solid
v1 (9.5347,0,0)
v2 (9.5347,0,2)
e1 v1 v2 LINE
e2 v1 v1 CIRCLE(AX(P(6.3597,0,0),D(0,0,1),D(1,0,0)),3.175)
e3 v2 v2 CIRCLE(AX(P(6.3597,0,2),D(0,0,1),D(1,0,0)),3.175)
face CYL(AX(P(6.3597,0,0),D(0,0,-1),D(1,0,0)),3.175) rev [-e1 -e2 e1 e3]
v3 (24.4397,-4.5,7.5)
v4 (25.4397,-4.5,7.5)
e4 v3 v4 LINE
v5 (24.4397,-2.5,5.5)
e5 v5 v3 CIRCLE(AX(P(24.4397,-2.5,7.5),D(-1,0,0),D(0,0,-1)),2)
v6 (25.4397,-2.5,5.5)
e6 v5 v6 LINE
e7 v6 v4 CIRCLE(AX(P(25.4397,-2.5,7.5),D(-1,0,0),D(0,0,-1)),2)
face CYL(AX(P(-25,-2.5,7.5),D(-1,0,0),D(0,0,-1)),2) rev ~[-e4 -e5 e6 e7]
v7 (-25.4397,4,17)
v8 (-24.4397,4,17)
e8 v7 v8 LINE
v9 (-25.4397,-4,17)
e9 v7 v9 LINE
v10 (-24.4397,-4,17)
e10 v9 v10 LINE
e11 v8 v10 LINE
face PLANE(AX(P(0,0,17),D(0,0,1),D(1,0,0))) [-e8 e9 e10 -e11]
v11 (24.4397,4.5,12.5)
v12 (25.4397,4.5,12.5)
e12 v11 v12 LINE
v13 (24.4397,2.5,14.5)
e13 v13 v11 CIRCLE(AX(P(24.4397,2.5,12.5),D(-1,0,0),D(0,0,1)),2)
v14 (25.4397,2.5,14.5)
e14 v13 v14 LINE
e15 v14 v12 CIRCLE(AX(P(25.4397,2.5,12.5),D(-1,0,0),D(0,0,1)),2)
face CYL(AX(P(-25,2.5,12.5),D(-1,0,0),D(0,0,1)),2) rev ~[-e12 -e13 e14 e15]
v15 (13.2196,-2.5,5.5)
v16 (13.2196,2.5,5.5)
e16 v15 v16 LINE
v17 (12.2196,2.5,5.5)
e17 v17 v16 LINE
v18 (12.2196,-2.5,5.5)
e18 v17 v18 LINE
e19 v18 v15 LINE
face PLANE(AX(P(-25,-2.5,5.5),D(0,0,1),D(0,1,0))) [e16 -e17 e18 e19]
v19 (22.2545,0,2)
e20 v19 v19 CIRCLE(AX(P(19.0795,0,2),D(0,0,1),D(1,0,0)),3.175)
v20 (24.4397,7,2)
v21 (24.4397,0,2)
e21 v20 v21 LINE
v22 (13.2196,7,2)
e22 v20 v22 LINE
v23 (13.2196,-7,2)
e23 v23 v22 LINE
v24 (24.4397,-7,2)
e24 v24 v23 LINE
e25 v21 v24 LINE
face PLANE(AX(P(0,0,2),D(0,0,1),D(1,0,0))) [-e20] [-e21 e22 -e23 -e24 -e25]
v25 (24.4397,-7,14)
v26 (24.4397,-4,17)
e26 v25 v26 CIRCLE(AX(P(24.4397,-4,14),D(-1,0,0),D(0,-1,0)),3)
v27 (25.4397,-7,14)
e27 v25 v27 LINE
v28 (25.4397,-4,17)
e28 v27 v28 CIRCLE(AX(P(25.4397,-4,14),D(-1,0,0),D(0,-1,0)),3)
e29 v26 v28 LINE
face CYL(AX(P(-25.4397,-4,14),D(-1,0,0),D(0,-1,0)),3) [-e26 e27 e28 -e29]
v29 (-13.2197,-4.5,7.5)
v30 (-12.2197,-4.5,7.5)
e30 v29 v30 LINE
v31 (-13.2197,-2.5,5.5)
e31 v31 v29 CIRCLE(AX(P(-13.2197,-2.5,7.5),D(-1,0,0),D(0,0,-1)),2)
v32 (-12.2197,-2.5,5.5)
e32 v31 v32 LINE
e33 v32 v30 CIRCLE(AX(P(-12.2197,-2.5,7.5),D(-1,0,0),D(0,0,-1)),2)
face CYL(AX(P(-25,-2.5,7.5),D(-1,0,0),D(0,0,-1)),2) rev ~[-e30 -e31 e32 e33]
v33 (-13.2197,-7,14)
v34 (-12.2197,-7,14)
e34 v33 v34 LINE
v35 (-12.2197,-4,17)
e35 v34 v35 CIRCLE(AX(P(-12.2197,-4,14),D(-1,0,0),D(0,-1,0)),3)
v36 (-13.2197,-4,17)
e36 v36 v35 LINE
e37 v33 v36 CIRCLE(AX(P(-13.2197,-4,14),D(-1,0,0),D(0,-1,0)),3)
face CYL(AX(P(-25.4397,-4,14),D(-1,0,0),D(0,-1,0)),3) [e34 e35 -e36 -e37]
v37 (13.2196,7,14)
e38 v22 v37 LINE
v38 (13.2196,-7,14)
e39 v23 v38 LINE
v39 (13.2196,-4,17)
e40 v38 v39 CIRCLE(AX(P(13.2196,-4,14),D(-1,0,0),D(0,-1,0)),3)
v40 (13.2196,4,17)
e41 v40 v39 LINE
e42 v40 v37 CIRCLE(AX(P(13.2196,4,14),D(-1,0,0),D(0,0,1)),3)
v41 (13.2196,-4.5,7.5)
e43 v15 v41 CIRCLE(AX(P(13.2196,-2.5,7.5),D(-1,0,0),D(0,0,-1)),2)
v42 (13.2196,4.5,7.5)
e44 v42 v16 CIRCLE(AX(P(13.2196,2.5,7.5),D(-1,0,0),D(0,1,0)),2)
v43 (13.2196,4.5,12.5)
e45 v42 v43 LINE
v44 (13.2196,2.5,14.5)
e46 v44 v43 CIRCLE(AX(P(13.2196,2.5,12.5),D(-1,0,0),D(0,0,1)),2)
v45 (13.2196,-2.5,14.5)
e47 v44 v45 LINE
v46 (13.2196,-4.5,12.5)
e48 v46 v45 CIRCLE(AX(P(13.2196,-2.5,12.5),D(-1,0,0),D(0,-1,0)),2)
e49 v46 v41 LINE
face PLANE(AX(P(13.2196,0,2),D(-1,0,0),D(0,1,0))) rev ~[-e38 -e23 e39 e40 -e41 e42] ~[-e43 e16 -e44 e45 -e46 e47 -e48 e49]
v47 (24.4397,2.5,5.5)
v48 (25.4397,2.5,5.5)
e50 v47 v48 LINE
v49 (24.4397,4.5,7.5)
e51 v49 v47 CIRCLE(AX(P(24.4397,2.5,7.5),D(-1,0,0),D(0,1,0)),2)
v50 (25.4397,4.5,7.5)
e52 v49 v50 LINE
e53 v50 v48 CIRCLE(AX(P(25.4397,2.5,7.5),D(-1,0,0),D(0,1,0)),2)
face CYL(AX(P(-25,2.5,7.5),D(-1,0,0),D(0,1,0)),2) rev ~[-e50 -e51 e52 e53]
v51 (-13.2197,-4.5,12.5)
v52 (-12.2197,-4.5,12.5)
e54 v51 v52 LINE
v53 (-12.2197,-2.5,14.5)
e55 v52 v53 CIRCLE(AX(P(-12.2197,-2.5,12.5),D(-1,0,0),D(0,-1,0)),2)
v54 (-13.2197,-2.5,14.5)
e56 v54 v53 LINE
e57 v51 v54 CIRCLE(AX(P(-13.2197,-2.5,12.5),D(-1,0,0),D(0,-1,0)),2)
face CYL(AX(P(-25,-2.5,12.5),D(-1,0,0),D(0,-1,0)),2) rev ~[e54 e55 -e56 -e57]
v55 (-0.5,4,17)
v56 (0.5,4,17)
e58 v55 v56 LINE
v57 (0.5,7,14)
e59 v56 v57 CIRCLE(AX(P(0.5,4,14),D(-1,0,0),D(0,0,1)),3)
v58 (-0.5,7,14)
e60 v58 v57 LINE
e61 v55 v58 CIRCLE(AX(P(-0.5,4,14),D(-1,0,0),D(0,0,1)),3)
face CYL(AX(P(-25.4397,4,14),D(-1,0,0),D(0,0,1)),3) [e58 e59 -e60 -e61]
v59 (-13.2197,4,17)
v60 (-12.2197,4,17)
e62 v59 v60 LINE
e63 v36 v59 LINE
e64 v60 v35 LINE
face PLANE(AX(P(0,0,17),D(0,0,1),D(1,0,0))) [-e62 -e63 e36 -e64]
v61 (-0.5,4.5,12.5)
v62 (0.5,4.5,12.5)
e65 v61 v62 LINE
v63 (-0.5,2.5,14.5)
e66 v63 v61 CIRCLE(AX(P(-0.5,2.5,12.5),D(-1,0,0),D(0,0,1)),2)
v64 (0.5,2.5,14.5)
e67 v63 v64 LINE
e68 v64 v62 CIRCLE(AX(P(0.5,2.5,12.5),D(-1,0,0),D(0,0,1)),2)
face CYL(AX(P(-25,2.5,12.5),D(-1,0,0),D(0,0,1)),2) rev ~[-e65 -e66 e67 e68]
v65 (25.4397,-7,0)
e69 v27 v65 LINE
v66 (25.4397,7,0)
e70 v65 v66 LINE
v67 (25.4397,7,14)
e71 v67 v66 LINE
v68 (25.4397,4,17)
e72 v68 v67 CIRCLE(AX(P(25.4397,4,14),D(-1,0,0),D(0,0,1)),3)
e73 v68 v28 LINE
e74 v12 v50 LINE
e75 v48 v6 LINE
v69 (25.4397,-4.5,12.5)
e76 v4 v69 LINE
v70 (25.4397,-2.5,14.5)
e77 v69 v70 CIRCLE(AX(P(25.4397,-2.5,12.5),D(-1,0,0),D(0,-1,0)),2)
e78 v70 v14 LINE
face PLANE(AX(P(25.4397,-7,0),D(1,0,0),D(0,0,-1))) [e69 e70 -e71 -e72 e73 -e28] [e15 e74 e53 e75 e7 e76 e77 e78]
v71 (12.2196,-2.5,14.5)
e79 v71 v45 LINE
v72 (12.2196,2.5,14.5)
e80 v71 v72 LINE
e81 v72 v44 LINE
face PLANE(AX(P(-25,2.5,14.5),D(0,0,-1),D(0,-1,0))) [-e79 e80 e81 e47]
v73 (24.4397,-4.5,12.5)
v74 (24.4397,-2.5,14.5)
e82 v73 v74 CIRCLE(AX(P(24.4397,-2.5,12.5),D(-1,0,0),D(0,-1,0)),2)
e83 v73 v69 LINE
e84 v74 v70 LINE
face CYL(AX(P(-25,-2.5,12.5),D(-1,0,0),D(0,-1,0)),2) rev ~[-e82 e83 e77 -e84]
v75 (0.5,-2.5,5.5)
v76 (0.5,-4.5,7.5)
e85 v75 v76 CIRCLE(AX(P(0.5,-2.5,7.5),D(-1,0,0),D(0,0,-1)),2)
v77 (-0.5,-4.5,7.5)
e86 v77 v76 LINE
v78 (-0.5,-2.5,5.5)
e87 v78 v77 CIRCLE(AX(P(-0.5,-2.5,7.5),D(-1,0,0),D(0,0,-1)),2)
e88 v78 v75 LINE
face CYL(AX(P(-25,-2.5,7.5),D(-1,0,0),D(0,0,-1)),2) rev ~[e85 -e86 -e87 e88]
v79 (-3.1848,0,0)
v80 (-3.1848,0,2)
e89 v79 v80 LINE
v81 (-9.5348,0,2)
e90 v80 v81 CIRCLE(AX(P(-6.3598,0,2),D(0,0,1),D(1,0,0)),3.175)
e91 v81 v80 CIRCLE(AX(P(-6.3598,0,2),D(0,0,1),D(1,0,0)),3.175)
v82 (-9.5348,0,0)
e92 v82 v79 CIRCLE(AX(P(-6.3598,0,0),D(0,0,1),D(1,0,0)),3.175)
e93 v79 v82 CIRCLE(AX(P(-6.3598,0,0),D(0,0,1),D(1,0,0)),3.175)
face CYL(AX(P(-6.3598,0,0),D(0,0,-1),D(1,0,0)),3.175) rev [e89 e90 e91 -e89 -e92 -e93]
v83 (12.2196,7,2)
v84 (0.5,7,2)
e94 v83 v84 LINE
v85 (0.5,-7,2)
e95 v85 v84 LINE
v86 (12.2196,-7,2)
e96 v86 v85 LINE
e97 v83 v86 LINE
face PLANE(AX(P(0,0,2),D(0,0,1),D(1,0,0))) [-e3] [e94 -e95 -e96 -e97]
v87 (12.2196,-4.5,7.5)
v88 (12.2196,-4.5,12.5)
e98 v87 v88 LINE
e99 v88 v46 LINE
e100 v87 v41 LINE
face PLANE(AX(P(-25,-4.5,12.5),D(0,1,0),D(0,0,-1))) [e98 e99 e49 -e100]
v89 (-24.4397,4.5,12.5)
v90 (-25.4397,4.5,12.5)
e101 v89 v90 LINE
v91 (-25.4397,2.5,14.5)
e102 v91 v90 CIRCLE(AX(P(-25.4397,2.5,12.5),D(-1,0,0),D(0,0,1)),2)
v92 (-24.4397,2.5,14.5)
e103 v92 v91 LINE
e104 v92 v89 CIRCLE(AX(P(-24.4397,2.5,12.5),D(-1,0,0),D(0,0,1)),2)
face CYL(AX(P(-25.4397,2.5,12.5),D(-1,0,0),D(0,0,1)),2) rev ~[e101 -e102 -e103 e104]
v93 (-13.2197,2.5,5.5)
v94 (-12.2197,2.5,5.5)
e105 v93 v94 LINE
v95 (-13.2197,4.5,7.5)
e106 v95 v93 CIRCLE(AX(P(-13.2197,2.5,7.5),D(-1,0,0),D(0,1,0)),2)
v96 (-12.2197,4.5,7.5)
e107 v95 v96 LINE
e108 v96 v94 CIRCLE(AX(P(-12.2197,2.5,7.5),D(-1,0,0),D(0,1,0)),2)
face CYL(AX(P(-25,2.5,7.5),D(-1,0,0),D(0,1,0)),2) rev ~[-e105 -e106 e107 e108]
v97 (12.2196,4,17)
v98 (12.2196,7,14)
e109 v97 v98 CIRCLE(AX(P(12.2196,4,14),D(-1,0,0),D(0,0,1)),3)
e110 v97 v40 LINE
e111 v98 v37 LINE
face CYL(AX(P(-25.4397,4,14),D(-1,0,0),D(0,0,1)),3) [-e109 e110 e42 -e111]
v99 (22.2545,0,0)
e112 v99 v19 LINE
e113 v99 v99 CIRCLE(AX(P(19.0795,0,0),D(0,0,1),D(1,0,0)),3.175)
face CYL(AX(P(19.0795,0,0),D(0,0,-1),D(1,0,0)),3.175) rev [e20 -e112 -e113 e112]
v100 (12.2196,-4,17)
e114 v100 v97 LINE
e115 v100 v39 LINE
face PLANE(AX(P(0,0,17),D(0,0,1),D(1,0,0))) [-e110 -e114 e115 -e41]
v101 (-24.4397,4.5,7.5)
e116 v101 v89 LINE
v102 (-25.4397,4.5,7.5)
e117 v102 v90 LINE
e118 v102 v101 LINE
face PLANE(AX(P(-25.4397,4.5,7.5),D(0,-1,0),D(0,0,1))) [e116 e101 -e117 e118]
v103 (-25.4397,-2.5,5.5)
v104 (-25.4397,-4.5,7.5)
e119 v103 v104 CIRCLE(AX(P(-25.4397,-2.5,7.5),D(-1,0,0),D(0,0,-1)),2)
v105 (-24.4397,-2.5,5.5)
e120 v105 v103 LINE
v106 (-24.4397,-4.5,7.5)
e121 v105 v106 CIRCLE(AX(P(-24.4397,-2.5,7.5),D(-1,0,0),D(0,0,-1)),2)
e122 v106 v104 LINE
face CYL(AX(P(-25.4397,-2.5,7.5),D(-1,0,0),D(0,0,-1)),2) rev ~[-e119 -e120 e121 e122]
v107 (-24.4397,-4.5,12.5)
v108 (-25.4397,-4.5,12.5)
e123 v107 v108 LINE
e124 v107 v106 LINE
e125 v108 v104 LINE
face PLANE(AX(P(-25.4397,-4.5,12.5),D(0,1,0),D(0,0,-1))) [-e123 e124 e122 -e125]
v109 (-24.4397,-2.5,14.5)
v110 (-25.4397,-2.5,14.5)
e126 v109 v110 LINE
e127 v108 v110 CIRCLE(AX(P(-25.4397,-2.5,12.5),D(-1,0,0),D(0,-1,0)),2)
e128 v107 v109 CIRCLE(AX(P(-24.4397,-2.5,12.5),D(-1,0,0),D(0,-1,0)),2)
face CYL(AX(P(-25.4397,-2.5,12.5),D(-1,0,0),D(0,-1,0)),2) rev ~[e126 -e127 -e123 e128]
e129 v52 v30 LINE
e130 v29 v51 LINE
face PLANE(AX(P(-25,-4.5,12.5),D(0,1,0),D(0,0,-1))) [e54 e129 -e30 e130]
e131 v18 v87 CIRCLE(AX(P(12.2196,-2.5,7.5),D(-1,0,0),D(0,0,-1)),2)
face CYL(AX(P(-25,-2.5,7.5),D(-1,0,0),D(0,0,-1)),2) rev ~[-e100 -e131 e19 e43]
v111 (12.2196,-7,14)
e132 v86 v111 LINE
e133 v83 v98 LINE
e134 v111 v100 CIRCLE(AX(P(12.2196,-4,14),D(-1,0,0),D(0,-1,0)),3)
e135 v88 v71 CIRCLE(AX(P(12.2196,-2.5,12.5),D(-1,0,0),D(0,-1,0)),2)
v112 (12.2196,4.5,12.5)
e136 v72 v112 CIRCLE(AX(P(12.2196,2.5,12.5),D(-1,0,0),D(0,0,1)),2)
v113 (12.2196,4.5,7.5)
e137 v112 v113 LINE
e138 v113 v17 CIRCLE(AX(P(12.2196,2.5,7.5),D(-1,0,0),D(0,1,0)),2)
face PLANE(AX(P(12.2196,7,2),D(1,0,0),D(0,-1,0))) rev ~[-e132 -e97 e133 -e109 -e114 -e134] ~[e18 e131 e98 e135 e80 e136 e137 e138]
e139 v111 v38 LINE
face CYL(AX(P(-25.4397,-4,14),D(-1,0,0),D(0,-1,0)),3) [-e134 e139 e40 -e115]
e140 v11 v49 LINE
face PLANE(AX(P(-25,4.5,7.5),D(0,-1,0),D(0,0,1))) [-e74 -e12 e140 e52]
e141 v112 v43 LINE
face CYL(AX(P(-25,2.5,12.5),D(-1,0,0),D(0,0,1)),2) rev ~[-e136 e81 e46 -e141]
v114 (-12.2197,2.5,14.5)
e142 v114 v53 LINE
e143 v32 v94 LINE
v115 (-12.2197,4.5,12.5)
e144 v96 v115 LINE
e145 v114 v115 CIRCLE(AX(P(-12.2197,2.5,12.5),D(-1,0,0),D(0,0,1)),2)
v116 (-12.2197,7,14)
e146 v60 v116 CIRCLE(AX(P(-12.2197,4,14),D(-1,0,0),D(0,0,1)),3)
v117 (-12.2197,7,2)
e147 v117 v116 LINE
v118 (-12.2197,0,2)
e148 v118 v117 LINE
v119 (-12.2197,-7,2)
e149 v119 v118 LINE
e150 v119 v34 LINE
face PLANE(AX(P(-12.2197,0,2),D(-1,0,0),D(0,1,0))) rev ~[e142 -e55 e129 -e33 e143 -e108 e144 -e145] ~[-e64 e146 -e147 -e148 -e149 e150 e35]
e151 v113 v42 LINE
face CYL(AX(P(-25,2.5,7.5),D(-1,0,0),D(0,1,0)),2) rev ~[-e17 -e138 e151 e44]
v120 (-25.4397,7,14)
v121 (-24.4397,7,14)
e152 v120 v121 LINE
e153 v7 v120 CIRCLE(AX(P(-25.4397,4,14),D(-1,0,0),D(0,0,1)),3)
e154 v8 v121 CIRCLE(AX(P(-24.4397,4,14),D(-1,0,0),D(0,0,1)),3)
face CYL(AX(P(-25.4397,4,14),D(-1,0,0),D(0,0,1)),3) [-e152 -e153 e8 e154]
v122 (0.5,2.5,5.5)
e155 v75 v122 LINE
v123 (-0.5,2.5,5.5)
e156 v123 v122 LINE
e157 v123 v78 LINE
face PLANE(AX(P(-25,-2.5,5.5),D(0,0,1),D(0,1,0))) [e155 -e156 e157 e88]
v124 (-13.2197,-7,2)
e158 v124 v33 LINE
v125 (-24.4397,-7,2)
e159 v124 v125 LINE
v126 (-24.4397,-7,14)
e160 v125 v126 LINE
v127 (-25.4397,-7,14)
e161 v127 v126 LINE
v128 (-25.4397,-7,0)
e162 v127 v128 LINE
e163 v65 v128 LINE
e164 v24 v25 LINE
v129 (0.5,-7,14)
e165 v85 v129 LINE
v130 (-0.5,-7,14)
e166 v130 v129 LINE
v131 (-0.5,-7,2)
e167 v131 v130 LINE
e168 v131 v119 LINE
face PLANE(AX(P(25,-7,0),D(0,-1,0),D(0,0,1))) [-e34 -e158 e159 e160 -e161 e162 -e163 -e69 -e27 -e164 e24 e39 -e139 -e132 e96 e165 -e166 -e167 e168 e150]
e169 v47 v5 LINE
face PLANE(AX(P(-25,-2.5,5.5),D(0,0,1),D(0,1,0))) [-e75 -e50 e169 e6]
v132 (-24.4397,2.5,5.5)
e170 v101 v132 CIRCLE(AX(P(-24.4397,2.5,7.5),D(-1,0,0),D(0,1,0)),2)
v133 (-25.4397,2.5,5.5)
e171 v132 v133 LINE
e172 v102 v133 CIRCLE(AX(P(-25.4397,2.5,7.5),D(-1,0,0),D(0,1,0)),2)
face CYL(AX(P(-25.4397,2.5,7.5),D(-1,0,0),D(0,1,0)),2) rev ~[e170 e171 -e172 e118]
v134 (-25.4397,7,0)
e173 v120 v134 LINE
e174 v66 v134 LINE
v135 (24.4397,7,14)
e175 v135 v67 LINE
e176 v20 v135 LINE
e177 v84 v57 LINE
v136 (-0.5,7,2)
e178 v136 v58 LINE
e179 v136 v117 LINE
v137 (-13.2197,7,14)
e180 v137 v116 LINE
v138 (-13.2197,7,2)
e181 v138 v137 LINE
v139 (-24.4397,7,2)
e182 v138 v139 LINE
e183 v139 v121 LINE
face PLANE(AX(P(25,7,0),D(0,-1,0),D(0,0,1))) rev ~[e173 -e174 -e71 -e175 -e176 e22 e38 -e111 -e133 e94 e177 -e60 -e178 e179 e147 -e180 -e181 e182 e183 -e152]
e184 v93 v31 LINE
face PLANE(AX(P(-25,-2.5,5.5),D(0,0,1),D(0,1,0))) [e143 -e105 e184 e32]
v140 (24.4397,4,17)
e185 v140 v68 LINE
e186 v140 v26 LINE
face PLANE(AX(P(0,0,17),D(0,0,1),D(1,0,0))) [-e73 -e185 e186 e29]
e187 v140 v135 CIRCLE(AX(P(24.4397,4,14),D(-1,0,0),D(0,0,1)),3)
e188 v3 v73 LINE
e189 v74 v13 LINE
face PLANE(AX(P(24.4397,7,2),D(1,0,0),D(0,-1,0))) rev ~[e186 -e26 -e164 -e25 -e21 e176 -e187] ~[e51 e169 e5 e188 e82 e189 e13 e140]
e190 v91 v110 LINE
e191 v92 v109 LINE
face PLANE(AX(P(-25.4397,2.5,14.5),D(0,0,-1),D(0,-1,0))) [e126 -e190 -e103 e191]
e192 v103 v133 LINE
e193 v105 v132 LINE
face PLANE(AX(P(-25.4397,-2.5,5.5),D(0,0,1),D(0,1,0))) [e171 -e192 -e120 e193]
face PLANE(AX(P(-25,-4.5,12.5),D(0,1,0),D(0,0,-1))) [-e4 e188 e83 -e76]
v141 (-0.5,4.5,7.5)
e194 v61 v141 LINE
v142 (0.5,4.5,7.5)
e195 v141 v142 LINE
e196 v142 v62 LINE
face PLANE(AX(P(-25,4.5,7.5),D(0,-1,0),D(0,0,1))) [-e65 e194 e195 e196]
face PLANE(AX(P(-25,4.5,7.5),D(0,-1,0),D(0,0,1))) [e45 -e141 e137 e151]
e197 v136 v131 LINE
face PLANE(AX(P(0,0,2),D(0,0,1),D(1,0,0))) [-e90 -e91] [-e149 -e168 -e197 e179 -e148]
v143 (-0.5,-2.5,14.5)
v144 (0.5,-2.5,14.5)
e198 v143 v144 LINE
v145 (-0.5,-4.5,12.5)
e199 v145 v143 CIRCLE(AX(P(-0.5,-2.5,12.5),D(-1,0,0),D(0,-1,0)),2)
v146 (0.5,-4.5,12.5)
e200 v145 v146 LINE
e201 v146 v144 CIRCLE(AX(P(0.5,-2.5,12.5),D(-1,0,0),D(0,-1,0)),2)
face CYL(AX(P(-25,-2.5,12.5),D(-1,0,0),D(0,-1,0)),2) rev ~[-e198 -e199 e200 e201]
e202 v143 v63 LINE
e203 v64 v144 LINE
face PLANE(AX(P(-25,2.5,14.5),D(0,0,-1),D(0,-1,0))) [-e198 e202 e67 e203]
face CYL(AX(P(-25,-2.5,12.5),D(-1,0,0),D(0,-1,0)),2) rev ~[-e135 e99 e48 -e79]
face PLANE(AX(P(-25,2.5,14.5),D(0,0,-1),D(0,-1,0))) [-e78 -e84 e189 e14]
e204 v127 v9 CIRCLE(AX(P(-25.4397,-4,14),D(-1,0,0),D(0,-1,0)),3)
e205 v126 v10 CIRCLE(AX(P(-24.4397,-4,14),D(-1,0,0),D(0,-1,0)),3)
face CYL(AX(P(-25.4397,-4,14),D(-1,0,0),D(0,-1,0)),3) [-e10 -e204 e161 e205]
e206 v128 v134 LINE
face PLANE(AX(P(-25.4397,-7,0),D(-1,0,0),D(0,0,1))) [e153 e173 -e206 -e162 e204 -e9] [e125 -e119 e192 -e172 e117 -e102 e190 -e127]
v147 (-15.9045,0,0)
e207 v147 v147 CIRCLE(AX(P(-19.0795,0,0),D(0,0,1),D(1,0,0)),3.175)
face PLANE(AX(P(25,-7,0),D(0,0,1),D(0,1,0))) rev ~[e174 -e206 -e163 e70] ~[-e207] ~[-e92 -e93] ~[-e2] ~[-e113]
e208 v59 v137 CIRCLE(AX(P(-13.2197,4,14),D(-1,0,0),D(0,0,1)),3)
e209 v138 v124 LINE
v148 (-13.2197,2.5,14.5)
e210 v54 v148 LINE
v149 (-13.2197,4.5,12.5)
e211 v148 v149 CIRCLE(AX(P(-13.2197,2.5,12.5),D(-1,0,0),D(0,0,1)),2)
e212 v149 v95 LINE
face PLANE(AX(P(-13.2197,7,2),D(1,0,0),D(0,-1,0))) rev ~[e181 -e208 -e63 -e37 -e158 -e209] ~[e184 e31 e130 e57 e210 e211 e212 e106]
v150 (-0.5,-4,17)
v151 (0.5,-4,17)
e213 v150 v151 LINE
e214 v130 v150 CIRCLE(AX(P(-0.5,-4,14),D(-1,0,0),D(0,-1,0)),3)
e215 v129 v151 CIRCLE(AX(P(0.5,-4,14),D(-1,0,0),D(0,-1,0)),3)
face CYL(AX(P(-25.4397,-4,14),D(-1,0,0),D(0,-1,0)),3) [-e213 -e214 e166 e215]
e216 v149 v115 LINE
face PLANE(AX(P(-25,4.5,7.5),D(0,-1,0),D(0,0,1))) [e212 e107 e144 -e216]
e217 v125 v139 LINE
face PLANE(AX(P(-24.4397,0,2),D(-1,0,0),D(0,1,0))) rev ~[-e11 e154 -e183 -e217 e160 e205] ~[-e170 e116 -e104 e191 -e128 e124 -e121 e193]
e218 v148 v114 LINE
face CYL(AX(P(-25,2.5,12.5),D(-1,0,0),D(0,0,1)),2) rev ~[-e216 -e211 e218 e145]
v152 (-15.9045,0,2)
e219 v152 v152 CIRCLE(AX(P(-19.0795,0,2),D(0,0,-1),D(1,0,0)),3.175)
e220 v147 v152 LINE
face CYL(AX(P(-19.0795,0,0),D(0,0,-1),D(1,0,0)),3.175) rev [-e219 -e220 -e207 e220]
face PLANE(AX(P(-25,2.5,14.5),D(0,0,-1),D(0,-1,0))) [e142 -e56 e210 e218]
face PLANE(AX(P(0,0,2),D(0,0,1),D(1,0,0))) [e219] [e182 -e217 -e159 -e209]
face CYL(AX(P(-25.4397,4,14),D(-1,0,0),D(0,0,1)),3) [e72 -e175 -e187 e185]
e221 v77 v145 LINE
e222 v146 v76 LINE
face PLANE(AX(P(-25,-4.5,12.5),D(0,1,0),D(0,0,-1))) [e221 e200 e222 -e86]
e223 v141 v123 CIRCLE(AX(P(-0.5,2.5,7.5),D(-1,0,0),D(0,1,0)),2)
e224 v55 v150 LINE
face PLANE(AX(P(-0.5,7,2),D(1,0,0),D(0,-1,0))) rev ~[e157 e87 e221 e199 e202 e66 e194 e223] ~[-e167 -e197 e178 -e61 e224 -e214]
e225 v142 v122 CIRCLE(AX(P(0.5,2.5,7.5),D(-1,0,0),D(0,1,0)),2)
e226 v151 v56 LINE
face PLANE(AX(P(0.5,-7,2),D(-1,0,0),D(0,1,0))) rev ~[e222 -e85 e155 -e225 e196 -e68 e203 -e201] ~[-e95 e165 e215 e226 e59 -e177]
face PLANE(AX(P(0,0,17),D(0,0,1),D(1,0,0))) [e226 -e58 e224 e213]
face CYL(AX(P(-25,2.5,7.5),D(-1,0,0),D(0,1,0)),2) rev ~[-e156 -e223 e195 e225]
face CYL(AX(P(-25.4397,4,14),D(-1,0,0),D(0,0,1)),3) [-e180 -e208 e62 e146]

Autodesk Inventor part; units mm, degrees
ref_plane "YZ Plane" through (0, 0, 0) normal (1, 0, 0) x (0, 1, 0)
ref_plane "XZ Plane" through (0, 0, 0) normal (0, 1, 0) x (-1, 0, 0)
ref_plane "XY Plane" through (0, 0, 0) normal (0, 0, 1) x (1, 0, 0)
sketch "Sketch1" plane through (0, 0, 0) normal (0, 0, 1) x (1, 0, 0)
  circle A0 centre (-19.0795, 0) radius 3.175 projected
  circle A1 centre (-6.3598, 0) radius 3.175 projected
  circle A2 centre (6.3597, 0) radius 3.175 projected
  circle A3 centre (19.0795, 0) radius 3.175 projected
  line L0 (25, -19) -> (25, 19) projected
  line L1 (-25, 19) -> (-25, -19) projected
  line L2 (-19.0795, 0) -> (-6.3598, 0)
  line L3 (-6.3598, 0) -> (-12.7197, 0)
  line L4 (-19.0795, 0) -> (-25.4395, 0)
  line L5 (19.0795, 0) -> (25.4395, 0)
  line L6 (-12.2197, 7) -> (-12.2197, -7)
  line L7 (-12.2197, -7) -> (-13.2197, -7)
  line L8 (-13.2197, -7) -> (-13.2197, 7)
  line L9 (-13.2197, 7) -> (-12.2197, 7)
  line L10 (-12.2197, 7) -> (-13.2197, -7) construction
  line L11 (-12.2197, -7) -> (-13.2197, 7) construction
  line L12 (-25.4395, 0) -> (-25.9395, 0)
  line L13 (-25.9395, 0) -> (-25.9395, 7)
  line L14 (25.4395, 0) -> (25.9395, 0)
  line L15 (25.9395, 0) -> (25.9395, -7)
  line L16 (-25.9395, 7) -> (25.9395, 7)
  line L17 (25.9395, 7) -> (25.9395, -7)
  line L18 (25.9395, -7) -> (-25.9395, -7)
  line L19 (-25.9395, -7) -> (-25.9395, 7)
  point P0 (0, 0)
  point P1 (-25, 7)
  point P2 (-25, -7)
  point P3 (25, -7)
  point P4 (25, 7)
  dimension "d0" = 6.36
  dimension "d1" = 6.36
  dimension "d2" = 14
  dimension "d3" = 1
  dimension "d4" = 0.5
  dimension "d5" = 7
  dimension "d6" = 0.5
  dimension "d7" = 7
extrude "Extrusion1" add sketch "Sketch1" along normal blind 2 contours L2 L8 L18 L1 L4 A0 | A0 L4 L1 L16 L8 L2 | L8 L9 L6 L2 | L2 L6 L7 L8 | L6 L16 L0 L18
sketch "Sketch2" plane through (0, 0, 2) normal (0, 0, 1) x (1, 0, 0)
  line L0 (-25, 7) -> (-24, 7)
  line L1 (25, 7) -> (-25, 7) projected
  circle A0 centre (-19.0795, 0) radius 3.175 projected
  circle A1 centre (-6.3598, 0) radius 3.175 projected
  line L2 (-19.0795, 0) -> (-6.3598, 0)
  line L3 (-13.2197, 7) -> (-13.2197, -7)
  line L4 (-13.2197, -7) -> (-12.2197, -7)
  line L5 (-12.2197, -7) -> (-12.2197, 7)
  line L6 (-12.2197, 7) -> (-13.2197, 7)
  line L7 (-13.2197, 7) -> (-12.2197, -7) construction
  line L8 (-13.2197, -7) -> (-12.2197, 7) construction
  line L9 (-0.5, 7) -> (-0.5, -7)
  line L10 (-0.5, -7) -> (0.5, -7)
  line L11 (0.5, -7) -> (0.5, 7)
  line L12 (0.5, 7) -> (-0.5, 7)
  line L13 (-0.5, 7) -> (0.5, -7) construction
  line L14 (-0.5, -7) -> (0.5, 7) construction
  circle A2 centre (6.3597, 0) radius 3.175 projected
  circle A3 centre (19.0795, 0) radius 3.175 projected
  line L15 (6.3597, 0) -> (19.0795, 0)
  line L16 (12.2196, 7) -> (12.2196, -7)
  line L17 (12.2196, -7) -> (13.2196, -7)
  line L18 (13.2196, -7) -> (13.2196, 7)
  line L19 (13.2196, 7) -> (12.2196, 7)
  line L20 (12.2196, 7) -> (13.2196, -7) construction
  line L21 (12.2196, -7) -> (13.2196, 7) construction
  line L22 (-24, 7) -> (-25, 7)
  line L23 (-25, 7) -> (-25, -7)
  line L24 (-25, -7) -> (-24, -7)
  line L25 (25, -7) -> (25, 7) projected
  line L26 (-25, -7) -> (25, -7) projected
  line L27 (25, 7) -> (24, 7)
  line L28 (24, 7) -> (24, -7)
  line L29 (24, -7) -> (25, -7)
  line L30 (25, -7) -> (25, 7)
  line L31 (-12.7197, 0) -> (-24.4397, 0)
  line L32 (-24.4397, 0) -> (-24.4397, 7)
  line L33 (-24.4397, 7) -> (-25.4397, 7)
  line L34 (-25.4397, 7) -> (-25.4397, -7)
  line L35 (-25.4397, -7) -> (-24.4397, -7)
  line L36 (-24.4397, -7) -> (-24.4397, 7)
  line L37 (0, 7) -> (0, -7)
  line L38 (25.4397, 7) -> (25.4397, -7)
  line L39 (25.4397, 7) -> (24.4397, 7)
  line L40 (24.4397, 7) -> (24.4397, -7)
  line L41 (24.4397, -7) -> (25.4397, -7)
  line L42 (25.4397, -7) -> (25.4397, 7)
  point P0 (0, 0)
  point P1 (12.7196, 0)
  dimension "d10" = 1
  dimension "d11" = 1
  dimension "d12" = 1
  dimension "d13" = 1
  dimension "d14" = 1
  dimension "d27" = 11.72
  dimension "d28" = 1
  dimension "d29" = 1
extrude "Extrusion2" add sketch "Sketch2" along normal blind 15 contours L0 L32 L36 L24 L23 | L23 L35 L34 L33 | L1 L5 L2 L3 | L2 L5 L4 L3 | L1 L37 L10 L9 | L1 L11 L10 L37 | L1 L18 L15 L16 | L15 L18 L17 L16 | L1 L25 L26 L40 | L39 L38 L41 L25
sketch "Sketch3" plane through (-25, -7, 0) normal (-1, 0, 0) x (0, 0, 1)
  line L0 (2, 14) -> (2, 0) projected
  line L1 (0, 14) -> (2, 14) projected
  line L2 (0, 0) -> (2, 0) projected
  line L3 (14, 14) -> (3, 14)
  line L4 (3, 14) -> (3, 0)
  line L5 (3, 0) -> (14, 0)
  line L6 (17, 3) -> (17, 11)
  line L7 (7.5, 11.5) -> (12.5, 11.5)
  line L8 (14.5, 9.5) -> (14.5, 4.5)
  line L9 (12.5, 2.5) -> (7.5, 2.5)
  line L10 (5.5, 4.5) -> (5.5, 9.5)
  line L11 (5.5, 11.5) -> (14.5, 2.5) construction
  line L12 (14.5, 11.5) -> (5.5, 2.5) construction
  arc A0 (17, 11) -> (14, 14) centre (14, 11) ccw
  arc A1 (14, 0) -> (17, 3) centre (14, 3) ccw
  arc A2 (14.5, 9.5) -> (12.5, 11.5) centre (12.5, 9.5) ccw
  arc A3 (12.5, 2.5) -> (14.5, 4.5) centre (12.5, 4.5) ccw
  arc A4 (7.5, 11.5) -> (5.5, 9.5) centre (7.5, 9.5) ccw
  arc A5 (5.5, 4.5) -> (7.5, 2.5) centre (7.5, 4.5) ccw
  line L13 (17, 14) -> (17, 0) projected
  line L14 (0, 14) -> (2, 14) projected
  point P0 (0, 7)
  point P1 (10, 7)
  dimension "d18" = 14
  dimension "d19" = 9
  dimension "d20" = 9
  dimension "d21" = 3
  dimension "d22" = 3
  dimension "d23" = 2
extrude "Extrusion3" cut sketch "Sketch3" against normal through all contours L7 A2 L8 A3 L9 A5 L10 A4
sketch "Sketch4" plane through (-25.4397, -7, 2) normal (-1, 0, 0) x (0, 0, 1)
  line L0 (0, 14) -> (0, 0)
  line L1 (-2, 14) -> (0, 14)
  line L2 (-2, 0) -> (0, 0)
  line L3 (12, 14) -> (1, 14)
  line L4 (1, 14) -> (1, 0)
  line L5 (1, 0) -> (12, 0)
  line L6 (15, 3) -> (15, 11)
  line L7 (5.5, 11.5) -> (10.5, 11.5)
  line L8 (12.5, 9.5) -> (12.5, 4.5)
  line L9 (10.5, 2.5) -> (5.5, 2.5)
  line L10 (3.5, 4.5) -> (3.5, 9.5)
  line L11 (3.5, 11.5) -> (12.5, 2.5) construction
  line L12 (12.5, 11.5) -> (3.5, 2.5) construction
  arc A0 (15, 11) -> (12, 14) centre (12, 11) ccw
  arc A1 (12, 0) -> (15, 3) centre (12, 3) ccw
  arc A2 (12.5, 9.5) -> (10.5, 11.5) centre (10.5, 9.5) ccw
  arc A3 (10.5, 2.5) -> (12.5, 4.5) centre (10.5, 4.5) ccw
  arc A4 (5.5, 11.5) -> (3.5, 9.5) centre (5.5, 9.5) ccw
  arc A5 (3.5, 4.5) -> (5.5, 2.5) centre (5.5, 4.5) ccw
  line L13 (15, 14) -> (15, 0)
  line L14 (-2, 14) -> (0, 14)
  line L15 (-2, 0) -> (0, 0) projected
  line L16 (-2, 0) -> (15, 0)
  line L17 (15, 0) -> (15, 14)
  line L18 (15, 14) -> (-2, 14)
  line L19 (-2, 14) -> (-2, 0)
  point P0 (-2, 7)
  point P1 (-2, 7)
  point P2 (15, 0)
  point P3 (8, 7)
  point P4 (12, 0)
  dimension "d30" = 14
  dimension "d31" = 9
  dimension "d32" = 9
  dimension "d33" = 3
  dimension "d34" = 3
  dimension "d35" = 2
extrude "Extrusion4" cut sketch "Sketch4" against normal through all contours L18 L13 A0 | A1 L13 L16 | L7 A2 L8 A3 L9 A5 L10 A4
sketch "Sketch5" plane through (-25, -7, 0) normal (-1, 0, 0) x (0, 0, 1)
  line L0 (2, 14) -> (2, 0) projected
  line L1 (0, 14) -> (2, 14) projected
  line L2 (0, 0) -> (0, 14) projected
  line L3 (2, 14) -> (0, 14)
  line L4 (0, 14) -> (0, 0)
  line L5 (0, 0) -> (2, 0)
  line L6 (2, 0) -> (2, 14)
  point P0 (0, 7)
  point P1 (2, 0)
extrude "Extrusion5" add sketch "Sketch5" along normal up to surface (0.4397 mm away)
sketch "Sketch6" plane through (25, -7, 0) normal (1, 0, 0) x (0, 0, -1)
  line L0 (-2, 0) -> (-2, 14) projected
  line L1 (0, 0) -> (0, 14) projected
  line L2 (0, 0) -> (0, 14) projected
  line L3 (0, 14) -> (-2, 14) projected
  line L4 (-2, 0) -> (-2, 14) projected
  line L5 (0, 0) -> (-2, 0) projected
  point P0 (0, 7)
extrude "Extrusion6" add sketch "Sketch6" along normal up to surface (0.4397 mm away)
properties part number "protector_small1x1"
